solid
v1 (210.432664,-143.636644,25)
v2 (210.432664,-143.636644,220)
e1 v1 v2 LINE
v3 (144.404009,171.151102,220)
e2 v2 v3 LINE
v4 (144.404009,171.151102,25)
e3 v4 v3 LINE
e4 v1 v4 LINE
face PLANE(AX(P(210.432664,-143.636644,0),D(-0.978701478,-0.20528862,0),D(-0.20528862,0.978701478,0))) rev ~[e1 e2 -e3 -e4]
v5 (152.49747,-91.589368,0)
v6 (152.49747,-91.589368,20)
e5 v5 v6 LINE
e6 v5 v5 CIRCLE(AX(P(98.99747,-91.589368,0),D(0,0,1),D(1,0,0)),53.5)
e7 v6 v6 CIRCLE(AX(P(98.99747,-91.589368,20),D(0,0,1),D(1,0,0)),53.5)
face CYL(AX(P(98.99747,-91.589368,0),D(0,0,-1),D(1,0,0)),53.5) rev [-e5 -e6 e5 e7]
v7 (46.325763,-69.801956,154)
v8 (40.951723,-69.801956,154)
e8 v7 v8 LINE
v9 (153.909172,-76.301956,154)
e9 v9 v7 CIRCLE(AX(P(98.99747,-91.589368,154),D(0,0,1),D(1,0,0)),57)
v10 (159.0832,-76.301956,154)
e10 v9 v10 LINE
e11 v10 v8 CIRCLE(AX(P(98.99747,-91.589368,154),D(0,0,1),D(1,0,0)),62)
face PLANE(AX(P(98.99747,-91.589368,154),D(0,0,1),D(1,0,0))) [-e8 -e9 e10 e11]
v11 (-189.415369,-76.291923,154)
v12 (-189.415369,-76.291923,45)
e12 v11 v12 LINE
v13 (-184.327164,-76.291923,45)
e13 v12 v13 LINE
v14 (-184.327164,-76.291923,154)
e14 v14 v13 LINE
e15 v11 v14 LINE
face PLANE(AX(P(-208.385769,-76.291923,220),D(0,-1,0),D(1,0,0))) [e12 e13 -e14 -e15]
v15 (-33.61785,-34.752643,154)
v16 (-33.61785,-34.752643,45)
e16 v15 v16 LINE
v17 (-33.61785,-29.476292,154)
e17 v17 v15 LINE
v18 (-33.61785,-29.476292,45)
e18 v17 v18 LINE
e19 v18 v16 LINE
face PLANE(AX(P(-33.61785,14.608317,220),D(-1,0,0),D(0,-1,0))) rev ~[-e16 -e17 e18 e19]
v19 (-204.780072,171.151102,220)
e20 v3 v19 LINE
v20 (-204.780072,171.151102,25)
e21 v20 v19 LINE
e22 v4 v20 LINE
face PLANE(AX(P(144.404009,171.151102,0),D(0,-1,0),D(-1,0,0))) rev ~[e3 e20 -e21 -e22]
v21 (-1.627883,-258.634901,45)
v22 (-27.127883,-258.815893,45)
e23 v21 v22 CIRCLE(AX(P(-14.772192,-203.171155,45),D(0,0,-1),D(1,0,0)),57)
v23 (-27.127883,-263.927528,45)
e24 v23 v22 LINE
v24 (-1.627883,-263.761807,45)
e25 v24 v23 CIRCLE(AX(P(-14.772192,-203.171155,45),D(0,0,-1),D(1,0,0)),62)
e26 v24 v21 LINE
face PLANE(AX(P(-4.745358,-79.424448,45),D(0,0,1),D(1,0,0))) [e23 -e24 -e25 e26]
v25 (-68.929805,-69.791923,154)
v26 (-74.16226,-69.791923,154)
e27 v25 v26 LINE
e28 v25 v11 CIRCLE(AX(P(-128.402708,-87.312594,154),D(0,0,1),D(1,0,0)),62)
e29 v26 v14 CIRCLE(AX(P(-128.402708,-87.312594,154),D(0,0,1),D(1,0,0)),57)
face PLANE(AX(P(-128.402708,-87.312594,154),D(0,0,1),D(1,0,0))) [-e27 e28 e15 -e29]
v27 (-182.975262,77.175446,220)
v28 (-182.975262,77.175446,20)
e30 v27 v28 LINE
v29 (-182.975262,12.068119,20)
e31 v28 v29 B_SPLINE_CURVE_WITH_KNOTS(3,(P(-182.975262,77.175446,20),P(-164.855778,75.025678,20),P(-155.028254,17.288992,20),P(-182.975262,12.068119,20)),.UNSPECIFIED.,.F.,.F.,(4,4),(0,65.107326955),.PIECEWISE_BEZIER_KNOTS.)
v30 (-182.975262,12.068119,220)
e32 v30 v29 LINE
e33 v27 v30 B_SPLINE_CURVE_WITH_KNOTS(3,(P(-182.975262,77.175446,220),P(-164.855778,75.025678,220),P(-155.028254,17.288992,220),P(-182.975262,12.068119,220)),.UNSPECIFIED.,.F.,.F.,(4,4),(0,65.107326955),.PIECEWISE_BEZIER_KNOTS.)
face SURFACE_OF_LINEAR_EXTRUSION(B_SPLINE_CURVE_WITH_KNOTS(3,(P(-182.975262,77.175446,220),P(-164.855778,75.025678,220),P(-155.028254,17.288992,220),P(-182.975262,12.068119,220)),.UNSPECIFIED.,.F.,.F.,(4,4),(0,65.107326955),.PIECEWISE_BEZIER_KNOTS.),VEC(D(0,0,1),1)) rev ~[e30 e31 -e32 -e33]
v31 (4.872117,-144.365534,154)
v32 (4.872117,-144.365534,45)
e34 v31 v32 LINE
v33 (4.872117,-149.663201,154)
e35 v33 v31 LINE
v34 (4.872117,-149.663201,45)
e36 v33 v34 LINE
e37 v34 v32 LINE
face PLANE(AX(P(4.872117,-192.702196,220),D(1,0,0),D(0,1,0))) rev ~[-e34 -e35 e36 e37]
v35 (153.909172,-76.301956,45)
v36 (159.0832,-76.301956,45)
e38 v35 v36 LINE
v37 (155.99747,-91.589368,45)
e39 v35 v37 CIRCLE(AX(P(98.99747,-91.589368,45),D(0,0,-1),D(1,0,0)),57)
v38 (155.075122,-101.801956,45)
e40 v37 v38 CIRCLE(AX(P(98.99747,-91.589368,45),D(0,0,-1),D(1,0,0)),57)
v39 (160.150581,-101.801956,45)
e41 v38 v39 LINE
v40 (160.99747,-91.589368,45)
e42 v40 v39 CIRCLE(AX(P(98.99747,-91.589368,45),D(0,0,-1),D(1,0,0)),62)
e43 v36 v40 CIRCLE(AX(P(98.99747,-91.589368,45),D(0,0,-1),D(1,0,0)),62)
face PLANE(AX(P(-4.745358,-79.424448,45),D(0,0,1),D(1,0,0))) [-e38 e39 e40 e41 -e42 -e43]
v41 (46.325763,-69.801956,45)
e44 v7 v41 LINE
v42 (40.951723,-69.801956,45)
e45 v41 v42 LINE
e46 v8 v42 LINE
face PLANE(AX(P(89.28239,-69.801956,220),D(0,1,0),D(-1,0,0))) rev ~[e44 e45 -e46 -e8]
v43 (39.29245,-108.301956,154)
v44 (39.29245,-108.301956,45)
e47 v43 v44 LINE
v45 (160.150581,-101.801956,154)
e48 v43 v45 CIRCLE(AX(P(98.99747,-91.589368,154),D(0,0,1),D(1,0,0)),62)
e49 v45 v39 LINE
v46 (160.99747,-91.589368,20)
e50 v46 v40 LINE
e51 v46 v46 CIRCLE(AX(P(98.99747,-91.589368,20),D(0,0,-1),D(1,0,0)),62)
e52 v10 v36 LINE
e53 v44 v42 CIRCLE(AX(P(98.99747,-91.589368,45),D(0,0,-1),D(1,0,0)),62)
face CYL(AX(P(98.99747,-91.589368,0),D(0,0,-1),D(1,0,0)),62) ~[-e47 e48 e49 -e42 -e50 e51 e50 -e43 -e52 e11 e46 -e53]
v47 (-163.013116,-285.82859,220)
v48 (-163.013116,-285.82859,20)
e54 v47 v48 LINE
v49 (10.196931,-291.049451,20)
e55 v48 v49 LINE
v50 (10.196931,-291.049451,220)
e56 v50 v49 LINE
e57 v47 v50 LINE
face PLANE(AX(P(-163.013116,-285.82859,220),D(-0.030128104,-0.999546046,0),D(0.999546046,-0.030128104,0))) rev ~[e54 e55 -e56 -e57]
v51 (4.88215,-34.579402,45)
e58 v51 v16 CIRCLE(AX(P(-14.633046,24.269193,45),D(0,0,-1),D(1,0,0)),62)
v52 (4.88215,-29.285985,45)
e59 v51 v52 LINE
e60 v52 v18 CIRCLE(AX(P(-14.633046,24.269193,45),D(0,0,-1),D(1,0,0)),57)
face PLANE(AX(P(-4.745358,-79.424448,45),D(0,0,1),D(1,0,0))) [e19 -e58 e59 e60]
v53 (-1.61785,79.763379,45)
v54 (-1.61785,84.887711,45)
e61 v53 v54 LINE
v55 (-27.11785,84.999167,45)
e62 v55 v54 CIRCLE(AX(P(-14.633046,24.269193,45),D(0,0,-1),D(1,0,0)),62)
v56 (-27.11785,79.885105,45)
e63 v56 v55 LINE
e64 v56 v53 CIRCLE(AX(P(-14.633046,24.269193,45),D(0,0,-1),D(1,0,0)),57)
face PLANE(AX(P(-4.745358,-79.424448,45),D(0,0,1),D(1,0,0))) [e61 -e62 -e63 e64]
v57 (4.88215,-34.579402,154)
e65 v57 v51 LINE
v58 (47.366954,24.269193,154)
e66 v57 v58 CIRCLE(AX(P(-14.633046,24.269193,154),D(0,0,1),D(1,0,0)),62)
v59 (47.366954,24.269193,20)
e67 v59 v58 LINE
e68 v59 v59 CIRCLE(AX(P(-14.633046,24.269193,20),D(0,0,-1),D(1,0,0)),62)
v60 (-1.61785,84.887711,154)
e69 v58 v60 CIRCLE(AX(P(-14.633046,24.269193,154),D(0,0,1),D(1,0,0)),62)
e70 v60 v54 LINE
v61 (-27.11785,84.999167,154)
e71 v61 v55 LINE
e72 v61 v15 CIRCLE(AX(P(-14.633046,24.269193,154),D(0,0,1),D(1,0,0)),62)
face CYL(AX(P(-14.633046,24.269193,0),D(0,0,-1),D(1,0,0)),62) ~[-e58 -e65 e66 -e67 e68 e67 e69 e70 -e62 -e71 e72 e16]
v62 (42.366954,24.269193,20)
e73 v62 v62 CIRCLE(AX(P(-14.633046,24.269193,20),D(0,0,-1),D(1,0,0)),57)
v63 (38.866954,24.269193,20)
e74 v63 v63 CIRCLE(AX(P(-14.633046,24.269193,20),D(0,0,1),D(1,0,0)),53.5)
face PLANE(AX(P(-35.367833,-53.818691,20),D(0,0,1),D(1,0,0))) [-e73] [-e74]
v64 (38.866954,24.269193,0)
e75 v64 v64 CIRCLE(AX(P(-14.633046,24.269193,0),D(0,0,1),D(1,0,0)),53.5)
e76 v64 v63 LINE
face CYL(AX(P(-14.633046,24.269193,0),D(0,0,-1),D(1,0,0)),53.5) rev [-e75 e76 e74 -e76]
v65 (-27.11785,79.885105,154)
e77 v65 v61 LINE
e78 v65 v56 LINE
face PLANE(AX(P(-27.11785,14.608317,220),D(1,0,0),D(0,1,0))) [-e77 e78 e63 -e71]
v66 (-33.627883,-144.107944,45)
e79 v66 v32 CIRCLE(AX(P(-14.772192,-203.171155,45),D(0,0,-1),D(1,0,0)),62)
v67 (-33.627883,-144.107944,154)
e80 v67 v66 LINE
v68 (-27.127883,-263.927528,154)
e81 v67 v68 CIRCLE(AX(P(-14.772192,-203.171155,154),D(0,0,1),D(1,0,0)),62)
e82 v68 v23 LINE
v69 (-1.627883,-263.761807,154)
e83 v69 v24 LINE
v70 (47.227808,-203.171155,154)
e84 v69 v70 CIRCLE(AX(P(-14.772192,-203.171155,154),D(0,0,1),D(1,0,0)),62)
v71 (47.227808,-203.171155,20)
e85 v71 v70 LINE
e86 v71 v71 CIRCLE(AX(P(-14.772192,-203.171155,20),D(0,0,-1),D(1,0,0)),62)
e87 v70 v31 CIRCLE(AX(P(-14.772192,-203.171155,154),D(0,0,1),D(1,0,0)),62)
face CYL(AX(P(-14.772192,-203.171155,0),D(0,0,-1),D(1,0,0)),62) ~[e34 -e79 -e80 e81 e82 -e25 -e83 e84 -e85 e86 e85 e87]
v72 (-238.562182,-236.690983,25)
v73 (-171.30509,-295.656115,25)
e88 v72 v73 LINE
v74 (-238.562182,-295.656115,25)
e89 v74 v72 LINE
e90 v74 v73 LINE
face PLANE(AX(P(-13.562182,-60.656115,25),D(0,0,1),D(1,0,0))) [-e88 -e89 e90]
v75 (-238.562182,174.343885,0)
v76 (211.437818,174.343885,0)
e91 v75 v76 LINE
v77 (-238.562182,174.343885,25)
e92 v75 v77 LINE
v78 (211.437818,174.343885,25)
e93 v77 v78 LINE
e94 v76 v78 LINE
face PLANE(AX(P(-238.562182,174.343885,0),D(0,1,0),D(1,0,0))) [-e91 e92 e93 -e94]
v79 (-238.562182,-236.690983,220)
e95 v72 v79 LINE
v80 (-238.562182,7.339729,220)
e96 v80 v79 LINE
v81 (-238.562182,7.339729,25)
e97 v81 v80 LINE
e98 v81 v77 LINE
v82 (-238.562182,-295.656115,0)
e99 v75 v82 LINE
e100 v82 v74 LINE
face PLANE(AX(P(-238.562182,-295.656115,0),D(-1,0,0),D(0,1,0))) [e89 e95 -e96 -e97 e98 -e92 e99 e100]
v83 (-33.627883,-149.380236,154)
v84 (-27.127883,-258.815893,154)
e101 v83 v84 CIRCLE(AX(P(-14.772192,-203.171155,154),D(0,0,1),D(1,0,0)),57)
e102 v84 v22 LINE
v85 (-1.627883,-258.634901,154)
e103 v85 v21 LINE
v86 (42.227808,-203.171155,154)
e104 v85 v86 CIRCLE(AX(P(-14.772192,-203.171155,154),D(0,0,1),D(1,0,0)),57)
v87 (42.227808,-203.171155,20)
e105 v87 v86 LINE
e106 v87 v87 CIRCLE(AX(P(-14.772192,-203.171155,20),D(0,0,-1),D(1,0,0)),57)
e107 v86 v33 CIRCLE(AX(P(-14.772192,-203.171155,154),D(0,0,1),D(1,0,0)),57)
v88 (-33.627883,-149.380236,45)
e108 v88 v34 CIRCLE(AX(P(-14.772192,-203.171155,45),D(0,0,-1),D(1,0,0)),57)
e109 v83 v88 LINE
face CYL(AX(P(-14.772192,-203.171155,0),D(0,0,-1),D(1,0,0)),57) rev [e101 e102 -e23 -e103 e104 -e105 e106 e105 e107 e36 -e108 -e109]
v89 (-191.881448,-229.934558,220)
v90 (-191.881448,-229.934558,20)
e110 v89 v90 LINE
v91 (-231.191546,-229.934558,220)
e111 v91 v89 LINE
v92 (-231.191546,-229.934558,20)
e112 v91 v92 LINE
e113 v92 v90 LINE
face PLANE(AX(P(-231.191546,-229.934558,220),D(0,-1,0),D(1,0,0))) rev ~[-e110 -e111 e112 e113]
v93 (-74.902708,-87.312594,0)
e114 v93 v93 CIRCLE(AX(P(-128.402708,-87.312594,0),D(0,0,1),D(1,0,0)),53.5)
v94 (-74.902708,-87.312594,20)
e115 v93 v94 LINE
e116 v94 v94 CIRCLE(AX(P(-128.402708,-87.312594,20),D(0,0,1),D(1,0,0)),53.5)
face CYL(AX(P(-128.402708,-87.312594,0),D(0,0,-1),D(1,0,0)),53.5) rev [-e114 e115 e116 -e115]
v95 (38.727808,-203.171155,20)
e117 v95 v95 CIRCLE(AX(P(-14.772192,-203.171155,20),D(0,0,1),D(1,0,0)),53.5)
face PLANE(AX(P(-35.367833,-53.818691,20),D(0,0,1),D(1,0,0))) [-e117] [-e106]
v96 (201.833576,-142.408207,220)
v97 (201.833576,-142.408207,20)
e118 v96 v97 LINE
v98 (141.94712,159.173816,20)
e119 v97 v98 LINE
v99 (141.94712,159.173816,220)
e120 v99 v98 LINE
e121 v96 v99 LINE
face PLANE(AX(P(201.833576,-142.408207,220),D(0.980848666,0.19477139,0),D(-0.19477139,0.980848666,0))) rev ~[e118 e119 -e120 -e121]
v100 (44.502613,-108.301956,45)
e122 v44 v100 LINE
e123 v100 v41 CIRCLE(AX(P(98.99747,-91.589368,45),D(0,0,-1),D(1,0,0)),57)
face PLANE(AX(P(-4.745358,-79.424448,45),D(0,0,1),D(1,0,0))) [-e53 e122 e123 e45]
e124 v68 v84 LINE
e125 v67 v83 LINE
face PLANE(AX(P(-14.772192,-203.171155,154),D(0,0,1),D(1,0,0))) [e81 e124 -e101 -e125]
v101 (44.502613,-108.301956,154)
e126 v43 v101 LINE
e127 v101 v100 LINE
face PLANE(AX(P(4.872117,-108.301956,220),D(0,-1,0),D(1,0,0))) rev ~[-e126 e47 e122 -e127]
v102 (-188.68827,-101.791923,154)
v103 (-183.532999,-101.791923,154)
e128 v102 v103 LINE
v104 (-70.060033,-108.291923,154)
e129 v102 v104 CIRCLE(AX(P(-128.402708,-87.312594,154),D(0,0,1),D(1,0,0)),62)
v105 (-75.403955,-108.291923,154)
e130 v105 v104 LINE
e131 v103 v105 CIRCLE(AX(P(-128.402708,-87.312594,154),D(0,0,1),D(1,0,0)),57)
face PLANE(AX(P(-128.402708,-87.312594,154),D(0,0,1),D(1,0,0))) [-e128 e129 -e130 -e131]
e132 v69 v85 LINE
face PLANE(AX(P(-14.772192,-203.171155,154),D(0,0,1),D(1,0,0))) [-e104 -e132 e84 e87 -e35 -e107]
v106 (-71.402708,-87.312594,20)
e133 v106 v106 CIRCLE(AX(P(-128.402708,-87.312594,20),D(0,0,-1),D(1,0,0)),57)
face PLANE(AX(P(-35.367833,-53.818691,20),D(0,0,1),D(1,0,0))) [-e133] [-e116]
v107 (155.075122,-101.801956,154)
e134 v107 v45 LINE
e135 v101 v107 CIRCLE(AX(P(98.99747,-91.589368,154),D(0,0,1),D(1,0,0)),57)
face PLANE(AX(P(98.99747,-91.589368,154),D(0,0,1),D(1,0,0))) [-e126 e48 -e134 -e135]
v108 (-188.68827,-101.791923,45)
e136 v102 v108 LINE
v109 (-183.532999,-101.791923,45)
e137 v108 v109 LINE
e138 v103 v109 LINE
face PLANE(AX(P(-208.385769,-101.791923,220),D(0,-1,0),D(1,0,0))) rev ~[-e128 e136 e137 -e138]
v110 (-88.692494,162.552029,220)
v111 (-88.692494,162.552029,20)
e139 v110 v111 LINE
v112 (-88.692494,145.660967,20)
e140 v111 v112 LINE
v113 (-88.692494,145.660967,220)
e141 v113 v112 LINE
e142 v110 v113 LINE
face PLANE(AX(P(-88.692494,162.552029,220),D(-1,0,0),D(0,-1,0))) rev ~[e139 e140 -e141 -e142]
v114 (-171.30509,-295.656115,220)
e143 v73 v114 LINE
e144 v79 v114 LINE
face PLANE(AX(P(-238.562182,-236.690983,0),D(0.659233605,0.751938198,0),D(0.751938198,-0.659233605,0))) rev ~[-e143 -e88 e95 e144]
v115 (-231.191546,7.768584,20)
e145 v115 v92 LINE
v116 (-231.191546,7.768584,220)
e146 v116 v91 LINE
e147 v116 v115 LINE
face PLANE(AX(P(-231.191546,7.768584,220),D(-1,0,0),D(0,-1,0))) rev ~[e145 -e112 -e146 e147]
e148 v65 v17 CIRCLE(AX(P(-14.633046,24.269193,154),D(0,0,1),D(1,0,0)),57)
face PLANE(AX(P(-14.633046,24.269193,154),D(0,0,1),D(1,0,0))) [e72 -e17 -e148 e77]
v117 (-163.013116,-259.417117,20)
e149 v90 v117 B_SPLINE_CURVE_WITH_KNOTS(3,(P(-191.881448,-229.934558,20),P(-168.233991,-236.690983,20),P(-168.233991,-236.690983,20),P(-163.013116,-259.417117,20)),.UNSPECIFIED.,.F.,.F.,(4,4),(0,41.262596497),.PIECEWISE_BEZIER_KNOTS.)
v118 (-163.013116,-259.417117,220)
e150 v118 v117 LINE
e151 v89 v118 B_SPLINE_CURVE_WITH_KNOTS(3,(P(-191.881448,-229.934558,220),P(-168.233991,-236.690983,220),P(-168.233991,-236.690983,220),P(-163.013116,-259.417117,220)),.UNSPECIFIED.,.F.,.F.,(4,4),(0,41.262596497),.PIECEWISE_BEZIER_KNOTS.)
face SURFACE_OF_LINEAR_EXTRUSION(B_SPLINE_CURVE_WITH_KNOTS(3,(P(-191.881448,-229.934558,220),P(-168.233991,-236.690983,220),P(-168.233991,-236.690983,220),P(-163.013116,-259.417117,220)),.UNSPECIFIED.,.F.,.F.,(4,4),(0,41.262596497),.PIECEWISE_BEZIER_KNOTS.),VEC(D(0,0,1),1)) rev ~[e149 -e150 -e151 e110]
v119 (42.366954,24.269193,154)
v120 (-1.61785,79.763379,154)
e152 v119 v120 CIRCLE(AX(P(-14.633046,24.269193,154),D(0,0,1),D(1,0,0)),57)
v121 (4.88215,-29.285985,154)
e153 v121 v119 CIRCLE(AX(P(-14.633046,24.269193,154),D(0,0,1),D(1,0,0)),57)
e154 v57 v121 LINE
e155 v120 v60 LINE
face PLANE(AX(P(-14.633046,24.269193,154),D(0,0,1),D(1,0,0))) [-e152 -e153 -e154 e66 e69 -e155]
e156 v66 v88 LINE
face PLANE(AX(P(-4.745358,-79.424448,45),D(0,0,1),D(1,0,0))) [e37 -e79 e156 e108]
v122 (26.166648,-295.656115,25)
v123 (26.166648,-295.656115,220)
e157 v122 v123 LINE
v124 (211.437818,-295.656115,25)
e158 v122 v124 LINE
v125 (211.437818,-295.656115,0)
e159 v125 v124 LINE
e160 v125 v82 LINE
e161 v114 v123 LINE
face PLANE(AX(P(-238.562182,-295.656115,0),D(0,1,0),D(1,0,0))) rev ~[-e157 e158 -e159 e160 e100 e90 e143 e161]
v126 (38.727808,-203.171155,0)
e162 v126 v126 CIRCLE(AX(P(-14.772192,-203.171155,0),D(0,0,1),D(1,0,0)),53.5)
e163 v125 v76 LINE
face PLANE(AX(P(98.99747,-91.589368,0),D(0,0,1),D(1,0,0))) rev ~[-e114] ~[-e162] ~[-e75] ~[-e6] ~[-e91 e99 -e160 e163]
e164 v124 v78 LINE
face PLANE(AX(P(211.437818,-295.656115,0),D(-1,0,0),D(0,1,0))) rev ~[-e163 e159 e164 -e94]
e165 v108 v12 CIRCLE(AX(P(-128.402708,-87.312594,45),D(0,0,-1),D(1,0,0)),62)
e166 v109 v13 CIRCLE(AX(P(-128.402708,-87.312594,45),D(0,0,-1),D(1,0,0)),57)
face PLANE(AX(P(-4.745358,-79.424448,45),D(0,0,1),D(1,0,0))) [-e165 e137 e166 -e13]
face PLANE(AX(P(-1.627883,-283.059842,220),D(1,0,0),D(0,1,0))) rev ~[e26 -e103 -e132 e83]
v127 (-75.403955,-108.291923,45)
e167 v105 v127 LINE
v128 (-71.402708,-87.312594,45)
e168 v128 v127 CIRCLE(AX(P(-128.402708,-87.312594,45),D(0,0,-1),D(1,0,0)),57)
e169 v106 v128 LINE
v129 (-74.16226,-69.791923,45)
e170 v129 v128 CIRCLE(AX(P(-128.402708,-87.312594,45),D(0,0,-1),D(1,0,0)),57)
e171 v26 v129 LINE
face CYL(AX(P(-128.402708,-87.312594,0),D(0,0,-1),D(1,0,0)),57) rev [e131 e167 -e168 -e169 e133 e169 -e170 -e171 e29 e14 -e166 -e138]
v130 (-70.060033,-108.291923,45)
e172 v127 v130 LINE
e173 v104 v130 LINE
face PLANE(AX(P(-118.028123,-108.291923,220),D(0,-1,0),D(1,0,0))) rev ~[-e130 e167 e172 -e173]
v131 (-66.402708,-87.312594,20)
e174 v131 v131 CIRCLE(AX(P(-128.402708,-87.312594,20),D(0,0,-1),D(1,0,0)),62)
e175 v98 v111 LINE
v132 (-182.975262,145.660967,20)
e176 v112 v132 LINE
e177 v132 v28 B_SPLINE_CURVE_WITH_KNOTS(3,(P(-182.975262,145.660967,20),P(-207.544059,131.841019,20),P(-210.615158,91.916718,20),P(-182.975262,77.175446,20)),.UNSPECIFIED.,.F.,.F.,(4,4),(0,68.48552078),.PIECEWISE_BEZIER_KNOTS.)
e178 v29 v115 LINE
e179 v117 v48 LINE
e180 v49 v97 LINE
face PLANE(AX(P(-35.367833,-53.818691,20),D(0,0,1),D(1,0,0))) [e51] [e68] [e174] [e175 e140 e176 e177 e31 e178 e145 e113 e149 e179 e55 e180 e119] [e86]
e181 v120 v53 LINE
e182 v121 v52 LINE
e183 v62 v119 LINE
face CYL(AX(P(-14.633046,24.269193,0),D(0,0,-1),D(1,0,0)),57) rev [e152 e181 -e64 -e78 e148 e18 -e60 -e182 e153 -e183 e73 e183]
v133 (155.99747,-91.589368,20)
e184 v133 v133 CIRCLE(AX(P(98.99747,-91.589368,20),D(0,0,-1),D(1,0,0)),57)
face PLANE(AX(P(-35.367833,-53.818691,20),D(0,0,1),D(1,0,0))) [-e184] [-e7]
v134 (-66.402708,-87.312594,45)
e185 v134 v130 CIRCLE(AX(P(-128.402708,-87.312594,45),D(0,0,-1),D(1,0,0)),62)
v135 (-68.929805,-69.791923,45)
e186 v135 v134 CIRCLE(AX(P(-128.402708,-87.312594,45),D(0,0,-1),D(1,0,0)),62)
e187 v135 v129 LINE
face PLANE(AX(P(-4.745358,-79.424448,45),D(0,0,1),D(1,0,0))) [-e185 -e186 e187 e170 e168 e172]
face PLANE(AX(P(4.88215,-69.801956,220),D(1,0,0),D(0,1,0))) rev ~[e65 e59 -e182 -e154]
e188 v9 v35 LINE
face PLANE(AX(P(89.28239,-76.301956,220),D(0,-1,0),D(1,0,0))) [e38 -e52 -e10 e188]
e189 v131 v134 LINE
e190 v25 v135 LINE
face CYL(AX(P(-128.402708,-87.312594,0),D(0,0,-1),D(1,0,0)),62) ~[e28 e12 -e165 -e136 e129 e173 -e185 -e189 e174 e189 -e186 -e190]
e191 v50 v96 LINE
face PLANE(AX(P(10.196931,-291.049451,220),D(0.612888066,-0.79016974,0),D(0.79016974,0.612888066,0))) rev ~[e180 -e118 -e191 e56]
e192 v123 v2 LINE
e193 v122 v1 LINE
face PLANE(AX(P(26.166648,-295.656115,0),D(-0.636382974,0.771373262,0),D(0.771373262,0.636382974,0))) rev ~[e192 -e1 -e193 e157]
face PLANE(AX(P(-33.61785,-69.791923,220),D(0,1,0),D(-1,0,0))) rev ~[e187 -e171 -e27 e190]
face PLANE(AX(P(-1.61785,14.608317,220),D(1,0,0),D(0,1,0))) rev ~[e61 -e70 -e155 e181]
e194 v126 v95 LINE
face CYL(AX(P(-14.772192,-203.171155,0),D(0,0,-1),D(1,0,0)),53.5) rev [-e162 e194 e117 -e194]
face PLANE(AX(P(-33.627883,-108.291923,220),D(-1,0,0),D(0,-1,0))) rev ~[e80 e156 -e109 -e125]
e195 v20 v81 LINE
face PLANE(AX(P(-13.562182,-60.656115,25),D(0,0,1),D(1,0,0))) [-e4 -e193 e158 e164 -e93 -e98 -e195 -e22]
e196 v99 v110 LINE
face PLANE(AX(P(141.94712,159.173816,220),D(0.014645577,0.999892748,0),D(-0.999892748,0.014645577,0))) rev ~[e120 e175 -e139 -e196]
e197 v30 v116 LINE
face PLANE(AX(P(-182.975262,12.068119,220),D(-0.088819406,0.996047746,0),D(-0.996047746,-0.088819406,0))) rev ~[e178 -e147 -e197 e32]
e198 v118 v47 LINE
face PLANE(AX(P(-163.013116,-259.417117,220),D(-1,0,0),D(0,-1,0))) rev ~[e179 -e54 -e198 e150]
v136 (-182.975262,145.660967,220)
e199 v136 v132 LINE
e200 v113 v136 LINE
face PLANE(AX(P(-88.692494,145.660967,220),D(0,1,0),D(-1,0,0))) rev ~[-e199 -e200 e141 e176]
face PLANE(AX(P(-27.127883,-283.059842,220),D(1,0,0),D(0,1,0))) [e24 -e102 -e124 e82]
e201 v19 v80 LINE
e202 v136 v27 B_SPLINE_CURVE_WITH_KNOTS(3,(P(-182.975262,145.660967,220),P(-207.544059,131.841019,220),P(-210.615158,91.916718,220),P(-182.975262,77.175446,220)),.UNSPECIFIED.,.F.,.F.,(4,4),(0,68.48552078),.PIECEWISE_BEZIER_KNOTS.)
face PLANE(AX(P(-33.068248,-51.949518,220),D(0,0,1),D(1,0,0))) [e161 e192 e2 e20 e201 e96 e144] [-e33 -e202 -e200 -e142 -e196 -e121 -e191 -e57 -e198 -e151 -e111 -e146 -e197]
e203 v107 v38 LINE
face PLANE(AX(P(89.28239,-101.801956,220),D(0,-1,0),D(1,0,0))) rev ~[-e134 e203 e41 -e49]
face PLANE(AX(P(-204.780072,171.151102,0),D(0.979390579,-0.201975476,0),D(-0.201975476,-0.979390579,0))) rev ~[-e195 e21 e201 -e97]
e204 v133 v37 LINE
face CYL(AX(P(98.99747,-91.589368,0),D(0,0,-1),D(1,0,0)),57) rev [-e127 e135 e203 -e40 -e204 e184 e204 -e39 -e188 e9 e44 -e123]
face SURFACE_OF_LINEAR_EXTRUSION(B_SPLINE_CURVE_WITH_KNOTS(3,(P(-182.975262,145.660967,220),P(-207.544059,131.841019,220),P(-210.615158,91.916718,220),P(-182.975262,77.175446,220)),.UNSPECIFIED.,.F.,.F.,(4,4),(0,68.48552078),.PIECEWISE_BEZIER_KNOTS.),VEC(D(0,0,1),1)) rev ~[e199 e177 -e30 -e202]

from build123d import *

# Parameters (mm, degrees)
F1_DEPTH  = 220
F3_W      = 450
F3_H      = 470
F4_DEPTH  = 25
F5_DEPTH  = 200
F6_R      = 53.5
F7_DEPTH  = 20
F6_R_2    = 62
F6_R_3    = 57
F8_DEPTH  = 154
F9_W      = 25.5
F9_H      = 90.3576454148
F9_W_2    = 90.3576454148
F9_H_2    = 25.5
F10_DEPTH = 175


with BuildPart() as f1:
    # F0 (on Top) → F1 (new body)
    with BuildSketch(Plane.XY):
        Polygon((-204.7800719738, 171.1511015892), (-238.562181592, 7.3397289511), (-238.562181592, -236.6909831762), (-171.305090189, -295.6561148167), (26.1666476727, -295.6561148167), (210.4326635599, -143.6366438866), (144.4040089846, 171.1511015892), align=None)
    extrude(amount=F1_DEPTH)

    # F3 (on Top) → F4 (join)
    with BuildSketch(Plane.XY):
        with Locations((-13.562181592, -60.6561148167)):
            Rectangle(F3_W, F3_H)
    extrude(amount=F4_DEPTH)

    # F2 (on face) → F5 (cut)
    with BuildSketch(Plane.XY.offset(220)):
        with BuildLine():
            Line((141.9471204281, 159.1738164425), (-88.6924937367, 162.5520288944))
            Line((-88.6924937367, 162.5520288944), (-88.6924937367, 145.6609666348))
            Line((-88.6924937367, 145.6609666348), (-182.9752624035, 145.6609666348))
            add(Edge.make_bspline(
                [(-182.9752624035, 145.6609666348), (-207.5440585613, 131.841018796), (-210.6151580811, 91.9167175889), (-182.9752624035, 77.1754458547)],
                knots=[0, 0, 0, 0, 68.4855207801, 68.4855207801, 68.4855207801, 68.4855207801], degree=3))
            add(Edge.make_bspline(
                [(-182.9752624035, 77.1754458547), (-164.8557782173, 75.025677681), (-155.0282537937, 17.2889921814), (-182.9752624035, 12.0681189001)],
                knots=[0, 0, 0, 0, 65.1073269546, 65.1073269546, 65.1073269546, 65.1073269546], degree=3))
            Line((-182.9752624035, 12.0681189001), (-231.1915457249, 7.7685844153))
            Line((-231.1915457249, 7.7685844153), (-231.1915457249, -229.9345582724))
            Line((-231.1915457249, -229.9345582724), (-191.8814480305, -229.9345582724))
            add(Edge.make_bspline(
                [(-191.8814480305, -229.9345582724), (-168.2339906693, -236.6909831762), (-168.2339906693, -236.6909831762), (-163.0131155252, -259.417116642)],
                knots=[0, 0, 0, 0, 41.2625964967, 41.2625964967, 41.2625964967, 41.2625964967], degree=3))
            Line((-163.0131155252, -259.417116642), (-163.0131155252, -285.8285903931))
            Line((-163.0131155252, -285.8285903931), (10.1969307289, -291.0494506359))
            Line((10.1969307289, -291.0494506359), (201.833575964, -142.4082070589))
            Line((201.833575964, -142.4082070589), (141.9471204281, 159.1738164425))
        make_face()
    extrude(amount=-F5_DEPTH, mode=Mode.SUBTRACT)

    # F6 (on Top) → F7 (cut, through all)
    with BuildSketch(Plane.XY):
        with Locations((-14.6330455318, 24.2691934109)):
            Circle(F6_R)
        with Locations((-128.4027075395, -87.3125935497)):
            Circle(F6_R)
        with Locations((-14.7721923306, -203.1711548904)):
            Circle(F6_R)
        with Locations((98.9974696771, -91.5893679298)):
            Circle(F6_R)
    extrude(amount=F7_DEPTH, mode=Mode.SUBTRACT)

    # F6 (on Top) → F8 (join)
    with BuildSketch(Plane.XY):
        with Locations((98.9974696771, -91.5893679298)):
            Circle(F6_R_2)
        with Locations((98.9974696771, -91.5893679298)):
            Circle(F6_R_3, mode=Mode.SUBTRACT)
        with Locations((-14.6330455318, 24.2691934109)):
            Circle(F6_R_2)
        with Locations((-14.6330455318, 24.2691934109)):
            Circle(F6_R_3, mode=Mode.SUBTRACT)
        with Locations((-128.4027075395, -87.3125935497)):
            Circle(F6_R_2)
        with Locations((-128.4027075395, -87.3125935497)):
            Circle(F6_R_3, mode=Mode.SUBTRACT)
        with Locations((-14.7721923306, -203.1711548904)):
            Circle(F6_R_2)
        with Locations((-14.7721923306, -203.1711548904)):
            Circle(F6_R_3, mode=Mode.SUBTRACT)
    extrude(amount=F8_DEPTH)

    # F9 (on face) → F10 (cut)
    with BuildSketch(Plane.XY.offset(220)):
        Polygon((-14.3728665248, -89.0469396694), (4.8721171106, -89.0469396694), (4.8821498398, -89.0469396694), (4.8821498398, -69.801956034), (-14.3728665248, -69.801956034), align=None)
        Polygon((4.8721171106, -108.301956034), (4.8721171106, -89.0469396694), (-14.3728665248, -89.0469396694), (-14.3728665248, -108.2919233048), (-14.3728665248, -108.301956034), align=None)
        Polygon((4.8821498398, -89.0469396694), (4.8721171106, -89.0469396694), (4.8721171106, -108.301956034), (89.2823901994, -108.301956034), (89.2823901994, -101.801956034), (89.2823901994, -76.301956034), (89.2823901994, -69.801956034), (4.8821498398, -69.801956034), align=None)
        Polygon((-14.3728665248, -108.2919233048), (-14.3728665248, -89.0469396694), (-33.6178501602, -89.0469396694), (-33.6278828894, -89.0469396694), (-33.6278828894, -108.2919233048), align=None)
        Polygon((-33.6178501602, -89.0469396694), (-14.3728665248, -89.0469396694), (-14.3728665248, -69.801956034), (-14.3728665248, -69.7919233048), (-33.6178501602, -69.7919233048), align=None)
        Polygon((4.8721171106, -192.7021963936), (4.8721171106, -108.301956034), (-14.3728665248, -108.301956034), (-14.3728665248, -108.2919233048), (-33.6278828894, -108.2919233048), (-33.6278828894, -192.7021963936), (-27.1278828894, -192.7021963936), (-1.6278828894, -192.7021963936), align=None)
        Polygon((-14.3728665248, -69.801956034), (4.8821498398, -69.801956034), (4.8821498398, 14.6083170548), (-1.6178501602, 14.6083170548), (-27.1178501602, 14.6083170548), (-33.6178501602, 14.6083170548), (-33.6178501602, -69.7919233048), (-14.3728665248, -69.7919233048), align=None)
        Polygon((-33.6278828894, -89.0469396694), (-33.6178501602, -89.0469396694), (-33.6178501602, -69.7919233048), (-118.028123249, -69.7919233048), (-118.028123249, -76.2919233048), (-118.028123249, -101.7919233048), (-118.028123249, -108.2919233048), (-33.6278828894, -108.2919233048), align=None)
        with Locations((-14.3778828894, -237.881019101)):
            Rectangle(F9_W, F9_H)
        with Locations((134.4612129068, -89.051956034)):
            Rectangle(F9_W_2, F9_H_2)
        with Locations((-14.3678501602, 59.7871397622)):
            Rectangle(F9_W, F9_H)
        with Locations((-163.2069459564, -89.0419233048)):
            Rectangle(F9_W_2, F9_H_2)
    extrude(amount=-F10_DEPTH, mode=Mode.SUBTRACT)


solid = f1.part
